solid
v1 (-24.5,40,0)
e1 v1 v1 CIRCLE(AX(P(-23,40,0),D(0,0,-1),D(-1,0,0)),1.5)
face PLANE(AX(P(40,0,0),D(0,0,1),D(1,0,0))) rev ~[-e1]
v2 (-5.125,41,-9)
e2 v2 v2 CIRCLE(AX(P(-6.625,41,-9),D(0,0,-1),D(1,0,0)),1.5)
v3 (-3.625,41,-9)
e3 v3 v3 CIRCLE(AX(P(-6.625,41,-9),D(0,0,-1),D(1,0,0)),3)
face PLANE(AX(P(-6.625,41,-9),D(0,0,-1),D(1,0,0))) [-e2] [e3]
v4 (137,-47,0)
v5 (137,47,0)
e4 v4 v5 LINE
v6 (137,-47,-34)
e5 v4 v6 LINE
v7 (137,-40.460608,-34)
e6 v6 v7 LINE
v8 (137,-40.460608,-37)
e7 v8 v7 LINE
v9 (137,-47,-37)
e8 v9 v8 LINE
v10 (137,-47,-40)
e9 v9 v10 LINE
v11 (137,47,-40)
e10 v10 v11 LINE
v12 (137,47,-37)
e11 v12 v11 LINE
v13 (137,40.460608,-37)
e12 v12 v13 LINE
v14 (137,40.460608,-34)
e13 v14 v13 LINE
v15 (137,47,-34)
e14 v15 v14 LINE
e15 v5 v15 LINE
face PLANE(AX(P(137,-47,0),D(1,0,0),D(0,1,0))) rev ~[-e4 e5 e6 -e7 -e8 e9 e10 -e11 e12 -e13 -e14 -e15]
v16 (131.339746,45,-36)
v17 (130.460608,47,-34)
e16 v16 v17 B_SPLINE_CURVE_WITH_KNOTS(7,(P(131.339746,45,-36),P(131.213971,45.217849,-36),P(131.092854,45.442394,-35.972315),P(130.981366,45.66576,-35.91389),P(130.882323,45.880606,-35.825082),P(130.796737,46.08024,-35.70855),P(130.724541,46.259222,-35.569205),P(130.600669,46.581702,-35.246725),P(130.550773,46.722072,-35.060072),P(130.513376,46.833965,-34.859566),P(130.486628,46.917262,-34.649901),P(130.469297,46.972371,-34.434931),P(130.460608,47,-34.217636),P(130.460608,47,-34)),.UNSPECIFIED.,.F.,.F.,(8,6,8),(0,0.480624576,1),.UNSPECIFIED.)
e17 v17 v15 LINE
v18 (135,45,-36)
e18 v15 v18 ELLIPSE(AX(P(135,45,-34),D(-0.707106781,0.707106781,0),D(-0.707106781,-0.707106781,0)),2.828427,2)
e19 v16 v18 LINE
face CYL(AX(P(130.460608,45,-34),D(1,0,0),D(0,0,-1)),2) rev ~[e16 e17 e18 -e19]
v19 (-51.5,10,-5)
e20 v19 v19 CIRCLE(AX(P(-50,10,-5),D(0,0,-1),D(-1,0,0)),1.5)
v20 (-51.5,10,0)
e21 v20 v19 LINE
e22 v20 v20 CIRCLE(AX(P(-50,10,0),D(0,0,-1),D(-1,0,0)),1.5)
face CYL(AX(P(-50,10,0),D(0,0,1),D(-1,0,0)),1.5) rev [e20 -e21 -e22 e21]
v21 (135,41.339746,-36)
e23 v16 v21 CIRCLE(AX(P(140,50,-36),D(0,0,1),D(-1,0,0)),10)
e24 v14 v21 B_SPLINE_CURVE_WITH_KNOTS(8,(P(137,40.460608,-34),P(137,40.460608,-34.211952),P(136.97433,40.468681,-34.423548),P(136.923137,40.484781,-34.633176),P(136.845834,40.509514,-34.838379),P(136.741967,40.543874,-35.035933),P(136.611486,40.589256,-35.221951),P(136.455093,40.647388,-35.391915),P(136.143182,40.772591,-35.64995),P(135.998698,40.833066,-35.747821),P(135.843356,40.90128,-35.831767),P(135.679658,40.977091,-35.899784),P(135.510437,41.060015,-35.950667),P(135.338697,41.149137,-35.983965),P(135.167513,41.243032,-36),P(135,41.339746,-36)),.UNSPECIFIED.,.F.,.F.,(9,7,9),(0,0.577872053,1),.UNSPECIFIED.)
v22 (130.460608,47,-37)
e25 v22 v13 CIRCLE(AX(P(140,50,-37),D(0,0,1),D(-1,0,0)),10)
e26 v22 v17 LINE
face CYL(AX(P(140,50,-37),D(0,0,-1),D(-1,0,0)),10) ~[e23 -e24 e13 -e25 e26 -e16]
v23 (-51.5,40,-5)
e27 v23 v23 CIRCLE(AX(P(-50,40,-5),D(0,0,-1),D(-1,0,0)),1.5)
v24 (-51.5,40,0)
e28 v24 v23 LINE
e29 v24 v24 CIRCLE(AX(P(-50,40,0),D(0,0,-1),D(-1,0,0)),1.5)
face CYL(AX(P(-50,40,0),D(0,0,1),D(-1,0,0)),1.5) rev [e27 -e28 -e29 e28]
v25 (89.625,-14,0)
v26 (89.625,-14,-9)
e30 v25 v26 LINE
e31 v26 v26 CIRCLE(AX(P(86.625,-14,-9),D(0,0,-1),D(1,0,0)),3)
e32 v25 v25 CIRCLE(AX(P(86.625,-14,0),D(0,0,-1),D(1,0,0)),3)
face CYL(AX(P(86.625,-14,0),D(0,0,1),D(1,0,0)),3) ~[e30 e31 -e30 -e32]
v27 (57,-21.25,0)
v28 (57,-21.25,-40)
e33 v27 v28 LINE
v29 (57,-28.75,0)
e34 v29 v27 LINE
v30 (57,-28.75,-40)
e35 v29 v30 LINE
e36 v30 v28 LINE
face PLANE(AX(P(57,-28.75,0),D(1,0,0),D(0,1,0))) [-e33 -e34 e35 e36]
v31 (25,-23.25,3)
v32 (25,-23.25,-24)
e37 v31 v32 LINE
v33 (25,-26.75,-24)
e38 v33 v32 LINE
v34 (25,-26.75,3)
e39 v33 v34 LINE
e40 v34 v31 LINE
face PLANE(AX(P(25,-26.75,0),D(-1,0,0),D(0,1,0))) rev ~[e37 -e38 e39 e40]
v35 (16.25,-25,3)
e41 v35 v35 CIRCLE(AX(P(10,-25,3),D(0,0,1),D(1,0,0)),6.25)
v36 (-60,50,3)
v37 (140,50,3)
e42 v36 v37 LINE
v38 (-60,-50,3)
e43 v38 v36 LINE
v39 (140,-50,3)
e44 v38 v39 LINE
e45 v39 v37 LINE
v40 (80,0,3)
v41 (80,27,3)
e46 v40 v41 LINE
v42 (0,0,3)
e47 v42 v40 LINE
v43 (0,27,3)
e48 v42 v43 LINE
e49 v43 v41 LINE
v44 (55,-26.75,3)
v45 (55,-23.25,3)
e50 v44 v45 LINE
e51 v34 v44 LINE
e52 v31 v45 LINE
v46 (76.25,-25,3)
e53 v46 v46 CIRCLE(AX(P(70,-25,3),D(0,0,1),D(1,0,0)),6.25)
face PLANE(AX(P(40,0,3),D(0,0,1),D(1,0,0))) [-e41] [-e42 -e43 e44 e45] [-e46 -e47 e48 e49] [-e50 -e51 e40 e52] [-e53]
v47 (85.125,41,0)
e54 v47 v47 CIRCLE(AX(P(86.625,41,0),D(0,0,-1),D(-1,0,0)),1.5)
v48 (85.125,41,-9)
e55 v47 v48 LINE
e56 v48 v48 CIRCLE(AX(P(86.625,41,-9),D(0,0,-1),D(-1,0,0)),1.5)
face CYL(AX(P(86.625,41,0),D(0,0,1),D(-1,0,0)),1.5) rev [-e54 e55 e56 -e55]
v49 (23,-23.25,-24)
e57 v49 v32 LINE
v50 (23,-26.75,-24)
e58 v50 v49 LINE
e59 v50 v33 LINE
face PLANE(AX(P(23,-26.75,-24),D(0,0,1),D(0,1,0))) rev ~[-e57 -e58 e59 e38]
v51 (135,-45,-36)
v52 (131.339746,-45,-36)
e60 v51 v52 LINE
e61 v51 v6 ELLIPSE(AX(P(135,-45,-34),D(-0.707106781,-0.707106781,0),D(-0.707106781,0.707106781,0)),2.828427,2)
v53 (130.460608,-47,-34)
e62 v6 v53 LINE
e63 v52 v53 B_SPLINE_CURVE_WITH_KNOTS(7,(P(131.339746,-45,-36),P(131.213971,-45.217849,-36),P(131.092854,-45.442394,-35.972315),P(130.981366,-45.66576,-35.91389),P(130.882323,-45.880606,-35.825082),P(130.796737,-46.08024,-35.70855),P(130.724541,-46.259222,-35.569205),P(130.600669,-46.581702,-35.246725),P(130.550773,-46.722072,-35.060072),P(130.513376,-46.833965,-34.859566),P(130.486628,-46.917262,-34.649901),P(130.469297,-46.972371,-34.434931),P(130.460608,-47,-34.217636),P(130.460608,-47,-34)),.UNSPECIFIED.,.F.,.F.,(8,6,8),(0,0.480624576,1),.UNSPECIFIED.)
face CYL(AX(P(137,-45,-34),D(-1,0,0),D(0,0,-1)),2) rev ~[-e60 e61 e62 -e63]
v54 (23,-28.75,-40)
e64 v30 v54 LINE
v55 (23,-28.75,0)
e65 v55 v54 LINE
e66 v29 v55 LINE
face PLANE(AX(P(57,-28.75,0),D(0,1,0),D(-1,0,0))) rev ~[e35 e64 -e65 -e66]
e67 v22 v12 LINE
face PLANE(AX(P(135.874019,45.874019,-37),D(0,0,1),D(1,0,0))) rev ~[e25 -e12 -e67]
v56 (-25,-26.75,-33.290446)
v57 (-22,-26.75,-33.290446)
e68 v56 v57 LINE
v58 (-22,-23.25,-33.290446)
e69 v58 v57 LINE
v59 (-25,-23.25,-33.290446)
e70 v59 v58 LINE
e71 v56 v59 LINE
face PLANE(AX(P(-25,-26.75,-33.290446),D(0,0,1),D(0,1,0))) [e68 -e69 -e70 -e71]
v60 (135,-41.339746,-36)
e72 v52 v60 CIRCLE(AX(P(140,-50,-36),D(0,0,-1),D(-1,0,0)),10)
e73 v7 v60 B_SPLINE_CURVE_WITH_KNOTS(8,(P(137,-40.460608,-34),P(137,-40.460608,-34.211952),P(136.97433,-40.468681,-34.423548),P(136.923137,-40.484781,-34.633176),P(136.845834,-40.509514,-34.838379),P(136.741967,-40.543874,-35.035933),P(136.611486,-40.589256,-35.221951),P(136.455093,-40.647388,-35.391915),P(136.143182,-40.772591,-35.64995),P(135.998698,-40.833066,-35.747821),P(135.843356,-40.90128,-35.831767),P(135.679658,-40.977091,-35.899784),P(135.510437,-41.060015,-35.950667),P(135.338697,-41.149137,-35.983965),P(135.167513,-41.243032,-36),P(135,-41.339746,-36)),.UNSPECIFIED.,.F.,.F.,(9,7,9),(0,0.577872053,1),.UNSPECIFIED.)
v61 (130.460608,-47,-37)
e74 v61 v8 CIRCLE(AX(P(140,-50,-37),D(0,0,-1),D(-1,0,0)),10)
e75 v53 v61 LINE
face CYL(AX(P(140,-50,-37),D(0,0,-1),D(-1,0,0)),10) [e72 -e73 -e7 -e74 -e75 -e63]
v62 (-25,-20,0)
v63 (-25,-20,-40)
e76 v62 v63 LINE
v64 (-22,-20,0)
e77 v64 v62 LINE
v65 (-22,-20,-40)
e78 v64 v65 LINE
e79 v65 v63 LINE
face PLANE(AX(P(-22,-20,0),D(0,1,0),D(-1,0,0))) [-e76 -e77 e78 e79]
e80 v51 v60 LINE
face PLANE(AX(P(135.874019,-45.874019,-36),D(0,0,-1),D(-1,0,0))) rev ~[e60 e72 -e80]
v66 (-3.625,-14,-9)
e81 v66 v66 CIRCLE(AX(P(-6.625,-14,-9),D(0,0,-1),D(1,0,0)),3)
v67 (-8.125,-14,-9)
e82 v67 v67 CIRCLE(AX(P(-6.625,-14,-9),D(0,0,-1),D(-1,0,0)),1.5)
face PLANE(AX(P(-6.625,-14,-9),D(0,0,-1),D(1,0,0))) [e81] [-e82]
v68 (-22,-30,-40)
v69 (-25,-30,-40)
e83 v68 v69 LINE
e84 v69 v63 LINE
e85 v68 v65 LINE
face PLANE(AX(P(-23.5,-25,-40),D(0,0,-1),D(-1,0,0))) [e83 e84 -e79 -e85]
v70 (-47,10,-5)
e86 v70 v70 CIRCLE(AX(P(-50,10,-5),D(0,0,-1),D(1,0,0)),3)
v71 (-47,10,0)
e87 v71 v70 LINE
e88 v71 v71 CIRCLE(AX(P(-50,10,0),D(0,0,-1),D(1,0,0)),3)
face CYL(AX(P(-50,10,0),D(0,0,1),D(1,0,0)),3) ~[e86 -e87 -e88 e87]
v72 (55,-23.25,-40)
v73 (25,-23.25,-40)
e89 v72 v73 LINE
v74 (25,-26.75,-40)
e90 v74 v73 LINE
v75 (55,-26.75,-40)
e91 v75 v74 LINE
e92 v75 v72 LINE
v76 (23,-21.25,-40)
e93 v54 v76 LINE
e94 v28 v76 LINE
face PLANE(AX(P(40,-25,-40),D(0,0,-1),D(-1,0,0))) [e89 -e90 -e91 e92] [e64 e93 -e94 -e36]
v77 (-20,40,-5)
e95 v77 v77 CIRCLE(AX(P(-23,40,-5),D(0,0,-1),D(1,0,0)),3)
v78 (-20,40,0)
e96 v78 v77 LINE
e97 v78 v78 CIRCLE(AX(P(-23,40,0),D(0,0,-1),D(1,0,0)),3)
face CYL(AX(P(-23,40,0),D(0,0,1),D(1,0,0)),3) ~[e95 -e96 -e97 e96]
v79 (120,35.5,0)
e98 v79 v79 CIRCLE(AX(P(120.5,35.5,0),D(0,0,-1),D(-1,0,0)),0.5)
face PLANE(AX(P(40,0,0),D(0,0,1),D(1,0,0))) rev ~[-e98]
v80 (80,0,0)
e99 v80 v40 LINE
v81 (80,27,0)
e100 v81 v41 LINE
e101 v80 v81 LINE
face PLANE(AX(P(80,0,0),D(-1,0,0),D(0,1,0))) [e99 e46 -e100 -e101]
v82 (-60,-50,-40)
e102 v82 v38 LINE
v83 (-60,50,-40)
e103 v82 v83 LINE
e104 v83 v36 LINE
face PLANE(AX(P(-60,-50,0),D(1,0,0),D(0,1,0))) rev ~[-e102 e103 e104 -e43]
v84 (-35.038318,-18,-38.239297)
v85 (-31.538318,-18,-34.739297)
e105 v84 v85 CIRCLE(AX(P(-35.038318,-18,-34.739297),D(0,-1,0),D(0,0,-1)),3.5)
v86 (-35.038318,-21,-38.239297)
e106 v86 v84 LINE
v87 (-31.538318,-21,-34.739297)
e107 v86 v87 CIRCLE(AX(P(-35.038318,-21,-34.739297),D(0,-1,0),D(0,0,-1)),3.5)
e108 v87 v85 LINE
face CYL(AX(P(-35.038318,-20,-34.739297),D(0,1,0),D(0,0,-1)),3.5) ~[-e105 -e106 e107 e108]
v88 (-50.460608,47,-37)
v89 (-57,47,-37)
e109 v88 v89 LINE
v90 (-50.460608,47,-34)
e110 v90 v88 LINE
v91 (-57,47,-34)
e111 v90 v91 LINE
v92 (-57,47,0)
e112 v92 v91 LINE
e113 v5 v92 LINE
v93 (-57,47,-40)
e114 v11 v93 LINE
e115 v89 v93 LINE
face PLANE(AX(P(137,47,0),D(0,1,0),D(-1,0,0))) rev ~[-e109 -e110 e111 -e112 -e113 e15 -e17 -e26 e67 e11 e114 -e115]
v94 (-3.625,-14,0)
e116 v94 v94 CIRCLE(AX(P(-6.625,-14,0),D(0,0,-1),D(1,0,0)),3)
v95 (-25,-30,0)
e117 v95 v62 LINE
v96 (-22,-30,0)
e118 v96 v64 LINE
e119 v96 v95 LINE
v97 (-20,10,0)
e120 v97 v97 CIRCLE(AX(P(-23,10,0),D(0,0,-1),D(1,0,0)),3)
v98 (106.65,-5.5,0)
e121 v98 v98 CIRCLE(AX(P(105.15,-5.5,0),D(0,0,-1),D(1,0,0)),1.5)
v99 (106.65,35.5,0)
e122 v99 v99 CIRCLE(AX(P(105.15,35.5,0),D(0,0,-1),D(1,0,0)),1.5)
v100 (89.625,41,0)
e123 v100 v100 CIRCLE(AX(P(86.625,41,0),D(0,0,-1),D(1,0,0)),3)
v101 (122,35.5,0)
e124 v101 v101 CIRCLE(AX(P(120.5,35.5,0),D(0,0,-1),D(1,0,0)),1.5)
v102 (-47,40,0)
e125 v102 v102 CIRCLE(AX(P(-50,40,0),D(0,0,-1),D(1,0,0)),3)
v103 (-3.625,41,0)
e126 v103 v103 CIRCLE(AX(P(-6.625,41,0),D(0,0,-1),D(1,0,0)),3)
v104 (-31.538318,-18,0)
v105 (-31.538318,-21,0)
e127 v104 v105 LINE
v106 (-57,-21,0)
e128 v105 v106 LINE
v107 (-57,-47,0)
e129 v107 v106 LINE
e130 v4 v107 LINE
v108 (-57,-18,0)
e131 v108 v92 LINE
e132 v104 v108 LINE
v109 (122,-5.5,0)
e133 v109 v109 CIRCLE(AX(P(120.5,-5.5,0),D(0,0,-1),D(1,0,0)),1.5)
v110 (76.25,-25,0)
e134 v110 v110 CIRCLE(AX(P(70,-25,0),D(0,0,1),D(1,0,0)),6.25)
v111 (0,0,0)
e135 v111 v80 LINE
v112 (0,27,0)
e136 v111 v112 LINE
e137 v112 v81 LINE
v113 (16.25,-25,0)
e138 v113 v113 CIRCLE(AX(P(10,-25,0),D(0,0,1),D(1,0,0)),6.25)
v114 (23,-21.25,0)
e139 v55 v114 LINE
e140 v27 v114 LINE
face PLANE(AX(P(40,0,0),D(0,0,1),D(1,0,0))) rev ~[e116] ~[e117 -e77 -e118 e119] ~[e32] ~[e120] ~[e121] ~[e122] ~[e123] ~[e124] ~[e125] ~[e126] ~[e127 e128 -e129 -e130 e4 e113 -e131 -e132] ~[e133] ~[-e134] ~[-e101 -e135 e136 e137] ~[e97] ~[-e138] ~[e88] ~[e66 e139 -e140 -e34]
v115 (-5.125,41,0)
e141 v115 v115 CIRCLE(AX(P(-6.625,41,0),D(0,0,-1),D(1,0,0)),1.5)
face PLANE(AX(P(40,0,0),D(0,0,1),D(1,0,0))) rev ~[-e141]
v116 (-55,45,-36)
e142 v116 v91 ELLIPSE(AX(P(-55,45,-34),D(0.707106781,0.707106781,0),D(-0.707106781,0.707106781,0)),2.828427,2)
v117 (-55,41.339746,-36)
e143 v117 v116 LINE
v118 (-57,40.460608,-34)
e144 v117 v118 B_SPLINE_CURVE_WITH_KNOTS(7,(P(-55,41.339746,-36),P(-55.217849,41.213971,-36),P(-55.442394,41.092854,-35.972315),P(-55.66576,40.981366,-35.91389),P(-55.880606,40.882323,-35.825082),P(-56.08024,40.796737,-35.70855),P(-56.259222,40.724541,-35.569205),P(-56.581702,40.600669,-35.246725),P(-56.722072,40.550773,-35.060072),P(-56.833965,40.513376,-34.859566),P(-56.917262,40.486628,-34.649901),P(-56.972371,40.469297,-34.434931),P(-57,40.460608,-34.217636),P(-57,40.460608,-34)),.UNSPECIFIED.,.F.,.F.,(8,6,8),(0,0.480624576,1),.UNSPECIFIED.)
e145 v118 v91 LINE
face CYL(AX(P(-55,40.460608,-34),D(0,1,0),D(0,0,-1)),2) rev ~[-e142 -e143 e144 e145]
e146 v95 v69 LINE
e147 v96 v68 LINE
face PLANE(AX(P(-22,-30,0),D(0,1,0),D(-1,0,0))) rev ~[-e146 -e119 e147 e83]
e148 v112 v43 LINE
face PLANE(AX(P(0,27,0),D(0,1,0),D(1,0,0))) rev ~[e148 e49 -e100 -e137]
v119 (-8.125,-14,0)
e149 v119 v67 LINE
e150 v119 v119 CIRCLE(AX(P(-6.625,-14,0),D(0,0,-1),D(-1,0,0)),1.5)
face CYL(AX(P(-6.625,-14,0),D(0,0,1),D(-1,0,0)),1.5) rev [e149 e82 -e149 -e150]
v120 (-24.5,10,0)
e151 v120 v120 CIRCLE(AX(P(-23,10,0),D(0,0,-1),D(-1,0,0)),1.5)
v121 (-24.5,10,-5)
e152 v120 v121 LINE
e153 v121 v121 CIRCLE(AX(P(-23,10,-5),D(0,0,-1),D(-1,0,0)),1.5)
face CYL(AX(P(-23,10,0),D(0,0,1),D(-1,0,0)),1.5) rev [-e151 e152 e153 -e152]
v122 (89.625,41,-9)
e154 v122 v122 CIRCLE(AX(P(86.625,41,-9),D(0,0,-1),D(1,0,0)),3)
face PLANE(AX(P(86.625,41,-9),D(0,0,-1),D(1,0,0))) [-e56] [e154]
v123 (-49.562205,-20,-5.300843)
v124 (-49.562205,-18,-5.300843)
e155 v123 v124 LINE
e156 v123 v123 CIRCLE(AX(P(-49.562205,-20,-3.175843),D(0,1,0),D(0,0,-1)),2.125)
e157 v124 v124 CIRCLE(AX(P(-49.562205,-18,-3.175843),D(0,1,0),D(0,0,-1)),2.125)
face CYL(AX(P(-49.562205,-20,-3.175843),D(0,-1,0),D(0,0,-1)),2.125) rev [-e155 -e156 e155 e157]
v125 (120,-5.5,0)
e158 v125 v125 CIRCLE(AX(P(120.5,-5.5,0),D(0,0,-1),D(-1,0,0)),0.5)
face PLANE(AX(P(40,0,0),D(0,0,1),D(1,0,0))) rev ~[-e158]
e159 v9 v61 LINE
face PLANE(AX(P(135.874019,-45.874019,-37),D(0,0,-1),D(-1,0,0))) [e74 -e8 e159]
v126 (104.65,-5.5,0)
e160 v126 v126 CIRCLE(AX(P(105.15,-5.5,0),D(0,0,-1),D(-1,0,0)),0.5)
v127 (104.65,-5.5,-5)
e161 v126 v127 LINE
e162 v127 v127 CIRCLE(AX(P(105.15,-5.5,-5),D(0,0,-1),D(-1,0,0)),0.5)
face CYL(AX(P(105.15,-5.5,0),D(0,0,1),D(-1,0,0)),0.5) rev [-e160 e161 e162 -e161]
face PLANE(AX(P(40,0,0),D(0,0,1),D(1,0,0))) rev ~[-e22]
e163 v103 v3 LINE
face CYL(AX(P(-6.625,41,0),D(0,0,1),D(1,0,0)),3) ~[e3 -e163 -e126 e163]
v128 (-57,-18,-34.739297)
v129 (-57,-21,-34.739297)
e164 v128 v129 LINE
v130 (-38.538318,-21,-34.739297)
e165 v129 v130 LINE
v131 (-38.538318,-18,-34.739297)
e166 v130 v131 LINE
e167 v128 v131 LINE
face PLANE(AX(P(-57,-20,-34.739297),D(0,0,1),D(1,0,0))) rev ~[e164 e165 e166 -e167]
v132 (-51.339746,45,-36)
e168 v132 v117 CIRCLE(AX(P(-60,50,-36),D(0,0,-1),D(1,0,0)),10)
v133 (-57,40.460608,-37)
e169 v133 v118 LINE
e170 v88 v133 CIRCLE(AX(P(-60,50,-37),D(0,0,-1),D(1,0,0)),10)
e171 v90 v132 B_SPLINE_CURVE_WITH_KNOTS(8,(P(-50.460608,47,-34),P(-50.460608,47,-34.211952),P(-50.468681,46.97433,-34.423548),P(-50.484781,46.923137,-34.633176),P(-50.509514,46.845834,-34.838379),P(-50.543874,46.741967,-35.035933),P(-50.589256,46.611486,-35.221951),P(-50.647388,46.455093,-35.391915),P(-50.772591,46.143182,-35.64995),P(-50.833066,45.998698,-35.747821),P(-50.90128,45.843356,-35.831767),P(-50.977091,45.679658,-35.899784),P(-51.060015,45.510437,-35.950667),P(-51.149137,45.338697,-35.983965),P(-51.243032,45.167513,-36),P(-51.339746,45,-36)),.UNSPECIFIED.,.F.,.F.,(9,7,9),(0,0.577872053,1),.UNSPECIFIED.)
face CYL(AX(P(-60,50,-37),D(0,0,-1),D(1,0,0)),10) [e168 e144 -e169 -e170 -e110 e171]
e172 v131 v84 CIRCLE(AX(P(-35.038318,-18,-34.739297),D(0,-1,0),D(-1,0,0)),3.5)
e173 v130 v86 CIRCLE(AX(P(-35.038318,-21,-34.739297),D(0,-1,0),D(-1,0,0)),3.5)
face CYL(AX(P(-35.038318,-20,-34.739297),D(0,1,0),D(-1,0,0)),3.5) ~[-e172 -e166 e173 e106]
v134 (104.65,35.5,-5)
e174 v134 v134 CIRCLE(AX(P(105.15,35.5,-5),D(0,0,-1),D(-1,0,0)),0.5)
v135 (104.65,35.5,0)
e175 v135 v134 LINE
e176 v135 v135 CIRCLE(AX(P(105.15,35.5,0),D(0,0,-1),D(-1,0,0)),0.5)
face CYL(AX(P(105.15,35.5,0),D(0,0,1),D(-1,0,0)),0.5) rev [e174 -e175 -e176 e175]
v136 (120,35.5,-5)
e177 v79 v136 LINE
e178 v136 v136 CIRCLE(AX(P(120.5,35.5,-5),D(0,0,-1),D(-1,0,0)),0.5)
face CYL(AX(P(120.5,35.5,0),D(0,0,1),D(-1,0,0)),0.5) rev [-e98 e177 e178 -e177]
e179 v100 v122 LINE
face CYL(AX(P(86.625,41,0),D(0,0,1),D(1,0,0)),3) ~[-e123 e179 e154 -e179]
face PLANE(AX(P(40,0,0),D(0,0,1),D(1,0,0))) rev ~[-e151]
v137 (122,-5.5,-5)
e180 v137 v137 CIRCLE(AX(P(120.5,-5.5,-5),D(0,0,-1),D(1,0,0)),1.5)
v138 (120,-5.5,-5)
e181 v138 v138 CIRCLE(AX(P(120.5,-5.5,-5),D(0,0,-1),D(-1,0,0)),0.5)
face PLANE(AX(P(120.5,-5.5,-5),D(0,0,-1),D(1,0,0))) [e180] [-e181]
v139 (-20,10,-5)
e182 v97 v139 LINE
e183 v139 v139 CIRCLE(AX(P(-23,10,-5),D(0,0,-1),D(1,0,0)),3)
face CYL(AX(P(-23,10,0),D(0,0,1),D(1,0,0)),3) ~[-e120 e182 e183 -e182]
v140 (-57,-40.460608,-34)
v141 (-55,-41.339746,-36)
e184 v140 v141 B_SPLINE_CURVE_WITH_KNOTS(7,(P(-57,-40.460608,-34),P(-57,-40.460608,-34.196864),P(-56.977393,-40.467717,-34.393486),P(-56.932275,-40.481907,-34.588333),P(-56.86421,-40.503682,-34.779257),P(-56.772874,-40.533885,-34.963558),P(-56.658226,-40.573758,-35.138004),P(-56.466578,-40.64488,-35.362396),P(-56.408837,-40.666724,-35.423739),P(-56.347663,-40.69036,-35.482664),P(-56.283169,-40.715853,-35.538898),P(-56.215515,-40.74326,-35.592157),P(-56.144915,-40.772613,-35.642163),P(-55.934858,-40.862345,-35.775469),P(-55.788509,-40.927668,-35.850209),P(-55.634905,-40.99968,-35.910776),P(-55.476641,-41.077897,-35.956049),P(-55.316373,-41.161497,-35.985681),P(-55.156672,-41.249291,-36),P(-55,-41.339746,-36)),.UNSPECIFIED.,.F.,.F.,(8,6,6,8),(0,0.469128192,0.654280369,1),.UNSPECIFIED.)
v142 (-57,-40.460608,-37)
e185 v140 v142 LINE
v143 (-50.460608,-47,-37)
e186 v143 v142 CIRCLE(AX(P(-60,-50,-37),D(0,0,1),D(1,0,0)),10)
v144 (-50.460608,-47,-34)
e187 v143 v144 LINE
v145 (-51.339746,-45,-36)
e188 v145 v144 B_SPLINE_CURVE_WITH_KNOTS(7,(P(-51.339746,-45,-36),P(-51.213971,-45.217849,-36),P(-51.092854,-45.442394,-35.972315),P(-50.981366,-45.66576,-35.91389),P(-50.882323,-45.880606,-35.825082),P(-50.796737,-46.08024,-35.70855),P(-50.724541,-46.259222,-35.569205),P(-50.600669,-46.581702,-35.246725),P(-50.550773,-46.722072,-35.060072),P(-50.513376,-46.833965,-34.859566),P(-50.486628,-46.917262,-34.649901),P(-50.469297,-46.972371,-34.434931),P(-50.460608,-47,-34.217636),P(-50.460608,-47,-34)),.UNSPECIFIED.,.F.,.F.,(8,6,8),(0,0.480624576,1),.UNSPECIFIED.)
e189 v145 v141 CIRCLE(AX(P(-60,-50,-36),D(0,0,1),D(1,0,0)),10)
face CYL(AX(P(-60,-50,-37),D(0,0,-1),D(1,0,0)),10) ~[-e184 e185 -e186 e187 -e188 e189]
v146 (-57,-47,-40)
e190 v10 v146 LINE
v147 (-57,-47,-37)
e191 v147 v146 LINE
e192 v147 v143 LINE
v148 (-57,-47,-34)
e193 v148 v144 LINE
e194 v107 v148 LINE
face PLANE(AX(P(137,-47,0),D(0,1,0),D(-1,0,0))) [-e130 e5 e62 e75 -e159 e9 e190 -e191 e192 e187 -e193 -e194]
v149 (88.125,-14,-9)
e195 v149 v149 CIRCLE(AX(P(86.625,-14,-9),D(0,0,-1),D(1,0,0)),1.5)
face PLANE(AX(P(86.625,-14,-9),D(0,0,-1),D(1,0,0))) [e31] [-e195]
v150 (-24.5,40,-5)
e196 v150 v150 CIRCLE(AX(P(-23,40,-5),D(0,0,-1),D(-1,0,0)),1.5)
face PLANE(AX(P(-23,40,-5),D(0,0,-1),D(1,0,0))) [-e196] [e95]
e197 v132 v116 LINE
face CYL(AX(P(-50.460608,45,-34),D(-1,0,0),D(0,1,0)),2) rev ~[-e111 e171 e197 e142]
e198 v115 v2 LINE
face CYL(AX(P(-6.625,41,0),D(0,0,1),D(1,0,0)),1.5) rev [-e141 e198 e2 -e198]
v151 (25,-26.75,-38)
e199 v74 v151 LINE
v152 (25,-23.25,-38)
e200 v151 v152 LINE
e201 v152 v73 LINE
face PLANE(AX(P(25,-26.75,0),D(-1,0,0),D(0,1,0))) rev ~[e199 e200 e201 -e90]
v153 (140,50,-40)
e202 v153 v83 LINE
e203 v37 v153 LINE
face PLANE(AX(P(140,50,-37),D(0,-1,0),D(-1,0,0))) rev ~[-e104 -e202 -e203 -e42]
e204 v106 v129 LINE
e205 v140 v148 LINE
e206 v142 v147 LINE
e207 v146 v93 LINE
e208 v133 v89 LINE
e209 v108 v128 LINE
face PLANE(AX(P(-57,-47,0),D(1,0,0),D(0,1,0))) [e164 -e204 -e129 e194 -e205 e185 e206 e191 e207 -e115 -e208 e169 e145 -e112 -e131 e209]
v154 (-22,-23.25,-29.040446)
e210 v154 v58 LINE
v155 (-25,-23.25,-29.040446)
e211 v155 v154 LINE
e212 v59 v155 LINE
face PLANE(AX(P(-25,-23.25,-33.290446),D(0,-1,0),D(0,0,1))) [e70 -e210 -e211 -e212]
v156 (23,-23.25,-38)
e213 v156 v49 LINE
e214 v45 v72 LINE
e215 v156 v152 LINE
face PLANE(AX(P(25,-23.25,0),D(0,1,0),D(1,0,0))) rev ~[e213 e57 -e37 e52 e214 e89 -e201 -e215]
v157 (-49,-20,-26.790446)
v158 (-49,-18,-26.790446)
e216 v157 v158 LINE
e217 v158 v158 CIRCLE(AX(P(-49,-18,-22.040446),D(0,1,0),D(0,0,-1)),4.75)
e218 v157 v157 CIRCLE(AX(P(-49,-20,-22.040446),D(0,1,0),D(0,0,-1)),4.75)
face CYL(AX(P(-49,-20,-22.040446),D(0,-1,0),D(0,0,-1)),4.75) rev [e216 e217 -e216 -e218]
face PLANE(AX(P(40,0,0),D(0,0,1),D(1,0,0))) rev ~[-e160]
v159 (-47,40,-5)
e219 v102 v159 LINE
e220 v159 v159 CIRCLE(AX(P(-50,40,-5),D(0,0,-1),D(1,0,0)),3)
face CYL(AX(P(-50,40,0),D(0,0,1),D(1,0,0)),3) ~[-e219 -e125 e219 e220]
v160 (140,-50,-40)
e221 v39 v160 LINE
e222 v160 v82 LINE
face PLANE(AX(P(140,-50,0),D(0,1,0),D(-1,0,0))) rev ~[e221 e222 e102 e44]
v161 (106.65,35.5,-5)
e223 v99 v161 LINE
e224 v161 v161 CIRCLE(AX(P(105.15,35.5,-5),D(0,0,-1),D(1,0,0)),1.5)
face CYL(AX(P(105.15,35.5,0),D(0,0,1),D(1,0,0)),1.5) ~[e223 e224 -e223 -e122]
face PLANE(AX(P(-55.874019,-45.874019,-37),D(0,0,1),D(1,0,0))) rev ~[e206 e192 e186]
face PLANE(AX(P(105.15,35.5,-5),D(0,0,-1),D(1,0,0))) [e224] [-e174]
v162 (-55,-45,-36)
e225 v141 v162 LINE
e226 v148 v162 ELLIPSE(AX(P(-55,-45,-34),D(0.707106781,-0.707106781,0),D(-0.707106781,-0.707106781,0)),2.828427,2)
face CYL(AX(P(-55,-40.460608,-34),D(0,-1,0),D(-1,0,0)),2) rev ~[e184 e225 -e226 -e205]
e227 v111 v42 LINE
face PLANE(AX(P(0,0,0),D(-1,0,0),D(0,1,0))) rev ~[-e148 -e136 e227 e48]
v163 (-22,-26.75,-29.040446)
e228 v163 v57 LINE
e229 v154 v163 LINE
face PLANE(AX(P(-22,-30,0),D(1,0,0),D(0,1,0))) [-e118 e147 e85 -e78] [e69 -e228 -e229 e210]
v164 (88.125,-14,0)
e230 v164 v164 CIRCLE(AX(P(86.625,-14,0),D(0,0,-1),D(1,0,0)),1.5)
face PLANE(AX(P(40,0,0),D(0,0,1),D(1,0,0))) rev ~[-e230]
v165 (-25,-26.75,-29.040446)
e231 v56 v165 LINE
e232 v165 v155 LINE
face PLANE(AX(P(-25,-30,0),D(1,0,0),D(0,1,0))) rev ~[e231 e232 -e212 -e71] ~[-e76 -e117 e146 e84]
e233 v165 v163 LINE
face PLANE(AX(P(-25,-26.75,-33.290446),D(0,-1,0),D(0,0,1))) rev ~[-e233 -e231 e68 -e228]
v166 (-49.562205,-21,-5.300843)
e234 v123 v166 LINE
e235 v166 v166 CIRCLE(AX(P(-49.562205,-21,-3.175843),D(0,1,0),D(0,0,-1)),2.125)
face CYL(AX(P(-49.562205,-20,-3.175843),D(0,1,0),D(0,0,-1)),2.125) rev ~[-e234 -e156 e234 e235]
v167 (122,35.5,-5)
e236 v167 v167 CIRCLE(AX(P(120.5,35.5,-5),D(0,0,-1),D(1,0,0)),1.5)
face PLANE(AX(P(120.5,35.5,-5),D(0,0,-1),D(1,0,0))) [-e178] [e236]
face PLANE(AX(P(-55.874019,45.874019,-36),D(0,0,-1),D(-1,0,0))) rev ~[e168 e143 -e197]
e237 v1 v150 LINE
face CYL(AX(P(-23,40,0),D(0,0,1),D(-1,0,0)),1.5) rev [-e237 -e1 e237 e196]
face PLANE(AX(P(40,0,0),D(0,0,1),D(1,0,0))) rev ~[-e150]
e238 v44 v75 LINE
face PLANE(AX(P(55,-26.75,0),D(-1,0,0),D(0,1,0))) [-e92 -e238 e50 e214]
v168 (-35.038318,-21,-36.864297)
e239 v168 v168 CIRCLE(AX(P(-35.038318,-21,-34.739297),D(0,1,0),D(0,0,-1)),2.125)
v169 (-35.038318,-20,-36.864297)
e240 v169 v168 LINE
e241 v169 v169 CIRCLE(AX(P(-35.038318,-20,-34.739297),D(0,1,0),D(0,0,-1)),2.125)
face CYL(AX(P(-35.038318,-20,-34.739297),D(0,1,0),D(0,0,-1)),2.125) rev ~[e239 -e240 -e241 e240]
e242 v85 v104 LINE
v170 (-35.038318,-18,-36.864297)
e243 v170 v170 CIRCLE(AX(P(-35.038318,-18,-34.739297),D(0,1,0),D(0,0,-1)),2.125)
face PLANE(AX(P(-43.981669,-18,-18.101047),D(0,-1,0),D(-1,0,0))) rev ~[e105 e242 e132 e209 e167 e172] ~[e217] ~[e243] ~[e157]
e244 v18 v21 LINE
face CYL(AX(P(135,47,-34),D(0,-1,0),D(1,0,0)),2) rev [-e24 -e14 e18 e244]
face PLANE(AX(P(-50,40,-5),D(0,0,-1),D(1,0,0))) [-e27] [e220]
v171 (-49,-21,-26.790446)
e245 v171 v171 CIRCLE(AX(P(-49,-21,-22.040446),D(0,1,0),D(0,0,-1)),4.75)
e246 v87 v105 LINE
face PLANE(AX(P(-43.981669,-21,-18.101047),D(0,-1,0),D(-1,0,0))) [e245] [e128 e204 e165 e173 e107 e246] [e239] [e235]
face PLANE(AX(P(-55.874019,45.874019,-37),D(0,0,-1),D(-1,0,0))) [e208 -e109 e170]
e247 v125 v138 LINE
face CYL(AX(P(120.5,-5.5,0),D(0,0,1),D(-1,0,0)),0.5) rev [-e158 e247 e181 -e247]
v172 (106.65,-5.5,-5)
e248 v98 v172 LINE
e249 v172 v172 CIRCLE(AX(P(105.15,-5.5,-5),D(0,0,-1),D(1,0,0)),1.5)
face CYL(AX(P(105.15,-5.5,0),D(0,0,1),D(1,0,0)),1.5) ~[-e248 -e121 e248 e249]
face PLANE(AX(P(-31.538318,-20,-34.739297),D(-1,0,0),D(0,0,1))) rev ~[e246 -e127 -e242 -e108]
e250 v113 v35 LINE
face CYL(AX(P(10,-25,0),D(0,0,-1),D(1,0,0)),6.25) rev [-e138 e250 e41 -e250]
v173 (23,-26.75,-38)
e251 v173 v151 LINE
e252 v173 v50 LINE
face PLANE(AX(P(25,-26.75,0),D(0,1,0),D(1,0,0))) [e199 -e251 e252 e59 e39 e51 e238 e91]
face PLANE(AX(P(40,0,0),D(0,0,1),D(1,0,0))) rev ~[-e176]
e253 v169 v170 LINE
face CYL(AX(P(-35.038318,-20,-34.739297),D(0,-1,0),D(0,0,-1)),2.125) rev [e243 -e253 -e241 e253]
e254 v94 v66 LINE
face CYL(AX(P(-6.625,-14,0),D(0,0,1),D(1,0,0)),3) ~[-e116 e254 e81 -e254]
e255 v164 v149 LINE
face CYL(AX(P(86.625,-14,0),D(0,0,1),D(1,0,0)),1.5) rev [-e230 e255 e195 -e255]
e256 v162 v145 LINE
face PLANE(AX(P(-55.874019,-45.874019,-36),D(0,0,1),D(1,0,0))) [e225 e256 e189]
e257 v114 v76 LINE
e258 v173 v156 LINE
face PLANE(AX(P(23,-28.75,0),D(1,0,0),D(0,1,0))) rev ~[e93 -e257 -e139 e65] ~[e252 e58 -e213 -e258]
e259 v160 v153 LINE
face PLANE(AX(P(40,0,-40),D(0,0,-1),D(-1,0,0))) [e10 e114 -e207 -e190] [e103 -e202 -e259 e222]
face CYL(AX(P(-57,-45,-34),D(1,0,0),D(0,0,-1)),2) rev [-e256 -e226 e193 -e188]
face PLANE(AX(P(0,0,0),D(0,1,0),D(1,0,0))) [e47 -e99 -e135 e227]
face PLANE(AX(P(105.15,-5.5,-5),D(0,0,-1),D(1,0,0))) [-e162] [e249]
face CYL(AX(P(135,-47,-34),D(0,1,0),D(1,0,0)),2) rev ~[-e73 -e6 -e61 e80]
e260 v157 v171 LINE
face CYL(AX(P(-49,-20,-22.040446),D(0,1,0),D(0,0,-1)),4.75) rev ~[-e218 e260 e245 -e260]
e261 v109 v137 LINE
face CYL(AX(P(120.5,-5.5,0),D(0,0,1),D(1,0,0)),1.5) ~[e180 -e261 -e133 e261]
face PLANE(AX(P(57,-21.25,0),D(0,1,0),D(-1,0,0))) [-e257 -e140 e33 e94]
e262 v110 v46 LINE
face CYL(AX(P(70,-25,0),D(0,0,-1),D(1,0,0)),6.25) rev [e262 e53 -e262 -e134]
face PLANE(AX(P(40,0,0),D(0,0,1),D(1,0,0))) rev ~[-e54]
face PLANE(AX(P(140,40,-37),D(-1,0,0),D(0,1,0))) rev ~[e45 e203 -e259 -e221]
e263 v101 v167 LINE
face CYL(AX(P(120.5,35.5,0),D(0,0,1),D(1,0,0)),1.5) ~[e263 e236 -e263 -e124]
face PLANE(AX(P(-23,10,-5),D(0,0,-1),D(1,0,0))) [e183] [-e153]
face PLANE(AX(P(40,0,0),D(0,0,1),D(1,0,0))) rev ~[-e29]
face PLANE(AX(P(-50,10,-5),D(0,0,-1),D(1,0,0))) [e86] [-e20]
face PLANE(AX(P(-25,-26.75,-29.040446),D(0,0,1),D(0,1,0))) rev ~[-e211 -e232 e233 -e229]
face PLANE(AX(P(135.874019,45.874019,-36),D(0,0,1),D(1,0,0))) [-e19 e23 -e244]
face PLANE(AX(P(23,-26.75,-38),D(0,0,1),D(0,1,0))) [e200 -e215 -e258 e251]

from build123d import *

# Parameters (mm, degrees)
SKETCH_1_W           = 200
SKETCH_1_H           = 100
SKETCH_1_R           = 6.25
SKETCH_1_W_2         = 80
SKETCH_1_H_2         = 27
SKETCH_1_W_3         = 30
SKETCH_1_H_3         = 3.5
EXTRUDE_1_DEPTH      = 3
SKETCH_2_R           = 3
SKETCH_2_R_2         = 1.5
EXTRUDE_2_DEPTH      = 9
SKETCH_4_W           = 200
SKETCH_4_H           = 100
SKETCH_4_W_2         = 194
SKETCH_4_H_2         = 94
SKETCH_4_W_3         = 34
SKETCH_4_H_3         = 7.5
SKETCH_4_W_4         = 30
SKETCH_4_H_4         = 3.5
EXTRUDE_3_DEPTH      = 40
SKETCH_5_W           = 14
SKETCH_5_H           = 3.5
CUT_EXTRUDE_1_DEPTH  = 3
SKETCH_6_W           = 3
SKETCH_6_H           = 10
EXTRUDE_4_DEPTH      = 40
SKETCH_7_W           = 4.25
SKETCH_7_H           = 3.5
CUT_EXTRUDE_2_DEPTH  = 5
EXTRUDE_START        = 6.75
SKETCH_9_R           = 2.125
SKETCH_9_R_2         = 4.75
EXTRUDE_5_DEPTH      = 2
EXTRUDE_5_DEPTH_BACK = 1
SKETCH_10_R          = 3
SKETCH_10_R_2        = 1.5
EXTRUDE_6_DEPTH      = 5
SKETCH_11_R          = 1.5
SKETCH_11_R_2        = 0.5
EXTRUDE_7_DEPTH      = 5
EXTRUDE_START_2      = -3
EXTRUDE_8_DEPTH      = 1
FILLET_1_R           = 2


with BuildPart() as part:
    # Эскиз1 → Бобышка-Вытянуть1 (new body)
    with BuildSketch(Plane.XY):
        with Locations((40, 0)):
            Rectangle(SKETCH_1_W, SKETCH_1_H)
        with Locations((10, -25)):
            Circle(SKETCH_1_R, mode=Mode.SUBTRACT)
        with Locations((70, -25)):
            Circle(SKETCH_1_R, mode=Mode.SUBTRACT)
        with Locations((40, 13.5)):
            Rectangle(SKETCH_1_W_2, SKETCH_1_H_2, mode=Mode.SUBTRACT)
        with Locations((40, -25)):
            Rectangle(SKETCH_1_W_3, SKETCH_1_H_3, mode=Mode.SUBTRACT)
    extrude(amount=EXTRUDE_1_DEPTH)

    # Эскиз2 → Бобышка-Вытянуть2 (add)
    with BuildSketch(Plane(origin=(0, 0, 0), x_dir=(-1, 0, 0), z_dir=(0, 0, -1))):
        with Locations(Location((-86.625, 41, 0), (0, 0, 180))):
            Circle(SKETCH_2_R)
        with Locations((-86.625, 41)):
            Circle(SKETCH_2_R_2, mode=Mode.SUBTRACT)
        with Locations(Location((-86.625, -14, 0), (0, 0, 180))):
            Circle(SKETCH_2_R)
        with Locations(Location((-86.625, -14, 0), (0, 0, 180))):
            Circle(SKETCH_2_R_2, mode=Mode.SUBTRACT)
        with Locations(Location((6.625, -14, 0), (0, 0, 180))):
            Circle(SKETCH_2_R)
        with Locations((6.625, -14)):
            Circle(SKETCH_2_R_2, mode=Mode.SUBTRACT)
        with Locations(Location((6.625, 41, 0), (0, 0, 180))):
            Circle(SKETCH_2_R)
        with Locations(Location((6.625, 41, 0), (0, 0, 180))):
            Circle(SKETCH_2_R_2, mode=Mode.SUBTRACT)
    extrude(amount=EXTRUDE_2_DEPTH)

    # Эскиз4 → Бобышка-Вытянуть3 (add)
    with BuildSketch(Plane(origin=(0, 0, 0), x_dir=(-1, 0, 0), z_dir=(0, 0, -1))):
        with Locations((-40, 0)):
            Rectangle(SKETCH_4_W, SKETCH_4_H)
        with Locations((-40, 0)):
            Rectangle(SKETCH_4_W_2, SKETCH_4_H_2, mode=Mode.SUBTRACT)
        with Locations((-40, -25)):
            Rectangle(SKETCH_4_W_3, SKETCH_4_H_3)
        with Locations((-40, -25)):
            Rectangle(SKETCH_4_W_4, SKETCH_4_H_4, mode=Mode.SUBTRACT)
    extrude(amount=EXTRUDE_3_DEPTH)

    # Эскиз5 → Вырез-Вытянуть1 (cut)
    with BuildSketch(Plane.ZY.offset(-23)):
        with Locations((-31, -25)):
            Rectangle(SKETCH_5_W, SKETCH_5_H)
    extrude(amount=-CUT_EXTRUDE_1_DEPTH, mode=Mode.SUBTRACT)

    # Эскиз6 → Бобышка-Вытянуть4 (add)
    with BuildSketch(Plane(origin=(0, 0, 0), x_dir=(-1, 0, 0), z_dir=(0, 0, -1))):
        with Locations((23.5, -25)):
            Rectangle(SKETCH_6_W, SKETCH_6_H)
    extrude(amount=EXTRUDE_4_DEPTH)

    # Эскиз7 → Вырез-Вытянуть2 (cut)
    with BuildSketch(Plane.ZY.offset(25)):
        with Locations((-31.165446486, -25)):
            Rectangle(SKETCH_7_W, SKETCH_7_H)
    extrude(amount=-CUT_EXTRUDE_2_DEPTH, mode=Mode.SUBTRACT)

    # Эскиз9 → Бобышка-Вытянуть5 (add, two sides)
    with BuildSketch(Plane(origin=(0, -26.75, 0), x_dir=(1, 0, 0), z_dir=(0, 1, 0)).offset(EXTRUDE_START)) as extrude_5_sk:
        with BuildLine():
            Line((-31.538318399, 34.739296559), (-31.538318399, 0))
            Line((-31.538318399, 0), (-57, 0))
            Line((-57, 0), (-57, 34.739296559))
            Line((-57, 34.739296559), (-38.538318399, 34.739296559))
            ThreePointArc((-38.538318399, 34.739296559), (-37.513192133, 37.214170293), (-35.038318399, 38.239296559))
            ThreePointArc((-35.038318399, 38.239296559), (-32.563444665, 37.214170293), (-31.538318399, 34.739296559))
        make_face()
        with Locations(Location((-49.562204657, 3.1758428, 0), (0, 0, 90))):
            Circle(SKETCH_9_R, mode=Mode.SUBTRACT)
        with Locations(Location((-35.038318399, 34.739296559, 0), (0, 0, 90))):
            Circle(SKETCH_9_R, mode=Mode.SUBTRACT)
        with Locations(Location((-49, 22.040446486, 0), (0, 0, 90))):
            Circle(SKETCH_9_R_2, mode=Mode.SUBTRACT)
    extrude(amount=EXTRUDE_5_DEPTH)
    extrude(extrude_5_sk.sketch, amount=-EXTRUDE_5_DEPTH_BACK)

    # Эскиз10 → Бобышка-Вытянуть6 (add)
    with BuildSketch(Plane(origin=(0, 0, 0), x_dir=(-1, 0, 0), z_dir=(0, 0, -1))):
        with Locations(Location((50, 10, 0), (0, 0, 180))):
            Circle(SKETCH_10_R)
        with Locations((50, 10)):
            Circle(SKETCH_10_R_2, mode=Mode.SUBTRACT)
        with Locations(Location((23, 10, 0), (0, 0, 180))):
            Circle(SKETCH_10_R)
        with Locations((23, 10)):
            Circle(SKETCH_10_R_2, mode=Mode.SUBTRACT)
        with Locations(Location((23, 40, 0), (0, 0, 180))):
            Circle(SKETCH_10_R)
        with Locations((23, 40)):
            Circle(SKETCH_10_R_2, mode=Mode.SUBTRACT)
        with Locations(Location((50, 40, 0), (0, 0, 180))):
            Circle(SKETCH_10_R)
        with Locations((50, 40)):
            Circle(SKETCH_10_R_2, mode=Mode.SUBTRACT)
    extrude(amount=EXTRUDE_6_DEPTH)

    # Эскиз11 → Бобышка-Вытянуть7 (add)
    with BuildSketch(Plane(origin=(0, 0, 0), x_dir=(-1, 0, 0), z_dir=(0, 0, -1))):
        with Locations(Location((-120.5, 35.5, 0), (0, 0, 180))):
            Circle(SKETCH_11_R)
        with Locations((-120.5, 35.5)):
            Circle(SKETCH_11_R_2, mode=Mode.SUBTRACT)
        with Locations(Location((-105.15, 35.5, 0), (0, 0, 180))):
            Circle(SKETCH_11_R)
        with Locations((-105.15, 35.5)):
            Circle(SKETCH_11_R_2, mode=Mode.SUBTRACT)
        with Locations(Location((-105.15, -5.5, 0), (0, 0, 180))):
            Circle(SKETCH_11_R)
        with Locations((-105.15, -5.5)):
            Circle(SKETCH_11_R_2, mode=Mode.SUBTRACT)
        with Locations(Location((-120.5, -5.5, 0), (0, 0, 180))):
            Circle(SKETCH_11_R)
        with Locations((-120.5, -5.5)):
            Circle(SKETCH_11_R_2, mode=Mode.SUBTRACT)
    extrude(amount=EXTRUDE_7_DEPTH)

    # Эскиз12 → Бобышка-Вытянуть8 (add)
    with BuildSketch(Plane(origin=(0, 0, -40), x_dir=(-1, 0, 0), z_dir=(0, 0, -1)).offset(EXTRUDE_START_2)):
        with BuildLine():
            Line((-140, 40), (-140, 50))
            Line((-140, 50), (-130, 50))
            ThreePointArc((-130, 50), (-132.928932188, 42.928932188), (-140, 40))
        make_face()
        with BuildLine():
            Line((60, 40), (60, 50))
            Line((60, 50), (50, 50))
            ThreePointArc((50, 50), (52.928932188, 42.928932188), (60, 40))
        make_face()
        with BuildLine():
            Line((60, -50), (50, -50))
            ThreePointArc((50, -50), (52.928932188, -42.928932188), (60, -40))
            Line((60, -40), (60, -50))
        make_face()
        with BuildLine():
            Line((-140, -50), (-130, -50))
            ThreePointArc((-130, -50), (-132.928932188, -42.928932188), (-140, -40))
            Line((-140, -40), (-140, -50))
        make_face()
    extrude(amount=-EXTRUDE_8_DEPTH)

    # Скругление1
    fillet_1_edges = [part.edges().sort_by_distance(p)[0] for p in [
        (137, 43.730303993, -36),
        (133.730303993, 47, -36),
        (-57, 43.730303993, -36),
        (-53.730303993, 47, -36),
        (-57, -43.730303993, -36),
        (-53.730303993, -47, -36),
        (133.730303993, -47, -36),
        (137, -43.730303993, -36),
    ]]
    fillet(fillet_1_edges, radius=FILLET_1_R)


solid = part.part
